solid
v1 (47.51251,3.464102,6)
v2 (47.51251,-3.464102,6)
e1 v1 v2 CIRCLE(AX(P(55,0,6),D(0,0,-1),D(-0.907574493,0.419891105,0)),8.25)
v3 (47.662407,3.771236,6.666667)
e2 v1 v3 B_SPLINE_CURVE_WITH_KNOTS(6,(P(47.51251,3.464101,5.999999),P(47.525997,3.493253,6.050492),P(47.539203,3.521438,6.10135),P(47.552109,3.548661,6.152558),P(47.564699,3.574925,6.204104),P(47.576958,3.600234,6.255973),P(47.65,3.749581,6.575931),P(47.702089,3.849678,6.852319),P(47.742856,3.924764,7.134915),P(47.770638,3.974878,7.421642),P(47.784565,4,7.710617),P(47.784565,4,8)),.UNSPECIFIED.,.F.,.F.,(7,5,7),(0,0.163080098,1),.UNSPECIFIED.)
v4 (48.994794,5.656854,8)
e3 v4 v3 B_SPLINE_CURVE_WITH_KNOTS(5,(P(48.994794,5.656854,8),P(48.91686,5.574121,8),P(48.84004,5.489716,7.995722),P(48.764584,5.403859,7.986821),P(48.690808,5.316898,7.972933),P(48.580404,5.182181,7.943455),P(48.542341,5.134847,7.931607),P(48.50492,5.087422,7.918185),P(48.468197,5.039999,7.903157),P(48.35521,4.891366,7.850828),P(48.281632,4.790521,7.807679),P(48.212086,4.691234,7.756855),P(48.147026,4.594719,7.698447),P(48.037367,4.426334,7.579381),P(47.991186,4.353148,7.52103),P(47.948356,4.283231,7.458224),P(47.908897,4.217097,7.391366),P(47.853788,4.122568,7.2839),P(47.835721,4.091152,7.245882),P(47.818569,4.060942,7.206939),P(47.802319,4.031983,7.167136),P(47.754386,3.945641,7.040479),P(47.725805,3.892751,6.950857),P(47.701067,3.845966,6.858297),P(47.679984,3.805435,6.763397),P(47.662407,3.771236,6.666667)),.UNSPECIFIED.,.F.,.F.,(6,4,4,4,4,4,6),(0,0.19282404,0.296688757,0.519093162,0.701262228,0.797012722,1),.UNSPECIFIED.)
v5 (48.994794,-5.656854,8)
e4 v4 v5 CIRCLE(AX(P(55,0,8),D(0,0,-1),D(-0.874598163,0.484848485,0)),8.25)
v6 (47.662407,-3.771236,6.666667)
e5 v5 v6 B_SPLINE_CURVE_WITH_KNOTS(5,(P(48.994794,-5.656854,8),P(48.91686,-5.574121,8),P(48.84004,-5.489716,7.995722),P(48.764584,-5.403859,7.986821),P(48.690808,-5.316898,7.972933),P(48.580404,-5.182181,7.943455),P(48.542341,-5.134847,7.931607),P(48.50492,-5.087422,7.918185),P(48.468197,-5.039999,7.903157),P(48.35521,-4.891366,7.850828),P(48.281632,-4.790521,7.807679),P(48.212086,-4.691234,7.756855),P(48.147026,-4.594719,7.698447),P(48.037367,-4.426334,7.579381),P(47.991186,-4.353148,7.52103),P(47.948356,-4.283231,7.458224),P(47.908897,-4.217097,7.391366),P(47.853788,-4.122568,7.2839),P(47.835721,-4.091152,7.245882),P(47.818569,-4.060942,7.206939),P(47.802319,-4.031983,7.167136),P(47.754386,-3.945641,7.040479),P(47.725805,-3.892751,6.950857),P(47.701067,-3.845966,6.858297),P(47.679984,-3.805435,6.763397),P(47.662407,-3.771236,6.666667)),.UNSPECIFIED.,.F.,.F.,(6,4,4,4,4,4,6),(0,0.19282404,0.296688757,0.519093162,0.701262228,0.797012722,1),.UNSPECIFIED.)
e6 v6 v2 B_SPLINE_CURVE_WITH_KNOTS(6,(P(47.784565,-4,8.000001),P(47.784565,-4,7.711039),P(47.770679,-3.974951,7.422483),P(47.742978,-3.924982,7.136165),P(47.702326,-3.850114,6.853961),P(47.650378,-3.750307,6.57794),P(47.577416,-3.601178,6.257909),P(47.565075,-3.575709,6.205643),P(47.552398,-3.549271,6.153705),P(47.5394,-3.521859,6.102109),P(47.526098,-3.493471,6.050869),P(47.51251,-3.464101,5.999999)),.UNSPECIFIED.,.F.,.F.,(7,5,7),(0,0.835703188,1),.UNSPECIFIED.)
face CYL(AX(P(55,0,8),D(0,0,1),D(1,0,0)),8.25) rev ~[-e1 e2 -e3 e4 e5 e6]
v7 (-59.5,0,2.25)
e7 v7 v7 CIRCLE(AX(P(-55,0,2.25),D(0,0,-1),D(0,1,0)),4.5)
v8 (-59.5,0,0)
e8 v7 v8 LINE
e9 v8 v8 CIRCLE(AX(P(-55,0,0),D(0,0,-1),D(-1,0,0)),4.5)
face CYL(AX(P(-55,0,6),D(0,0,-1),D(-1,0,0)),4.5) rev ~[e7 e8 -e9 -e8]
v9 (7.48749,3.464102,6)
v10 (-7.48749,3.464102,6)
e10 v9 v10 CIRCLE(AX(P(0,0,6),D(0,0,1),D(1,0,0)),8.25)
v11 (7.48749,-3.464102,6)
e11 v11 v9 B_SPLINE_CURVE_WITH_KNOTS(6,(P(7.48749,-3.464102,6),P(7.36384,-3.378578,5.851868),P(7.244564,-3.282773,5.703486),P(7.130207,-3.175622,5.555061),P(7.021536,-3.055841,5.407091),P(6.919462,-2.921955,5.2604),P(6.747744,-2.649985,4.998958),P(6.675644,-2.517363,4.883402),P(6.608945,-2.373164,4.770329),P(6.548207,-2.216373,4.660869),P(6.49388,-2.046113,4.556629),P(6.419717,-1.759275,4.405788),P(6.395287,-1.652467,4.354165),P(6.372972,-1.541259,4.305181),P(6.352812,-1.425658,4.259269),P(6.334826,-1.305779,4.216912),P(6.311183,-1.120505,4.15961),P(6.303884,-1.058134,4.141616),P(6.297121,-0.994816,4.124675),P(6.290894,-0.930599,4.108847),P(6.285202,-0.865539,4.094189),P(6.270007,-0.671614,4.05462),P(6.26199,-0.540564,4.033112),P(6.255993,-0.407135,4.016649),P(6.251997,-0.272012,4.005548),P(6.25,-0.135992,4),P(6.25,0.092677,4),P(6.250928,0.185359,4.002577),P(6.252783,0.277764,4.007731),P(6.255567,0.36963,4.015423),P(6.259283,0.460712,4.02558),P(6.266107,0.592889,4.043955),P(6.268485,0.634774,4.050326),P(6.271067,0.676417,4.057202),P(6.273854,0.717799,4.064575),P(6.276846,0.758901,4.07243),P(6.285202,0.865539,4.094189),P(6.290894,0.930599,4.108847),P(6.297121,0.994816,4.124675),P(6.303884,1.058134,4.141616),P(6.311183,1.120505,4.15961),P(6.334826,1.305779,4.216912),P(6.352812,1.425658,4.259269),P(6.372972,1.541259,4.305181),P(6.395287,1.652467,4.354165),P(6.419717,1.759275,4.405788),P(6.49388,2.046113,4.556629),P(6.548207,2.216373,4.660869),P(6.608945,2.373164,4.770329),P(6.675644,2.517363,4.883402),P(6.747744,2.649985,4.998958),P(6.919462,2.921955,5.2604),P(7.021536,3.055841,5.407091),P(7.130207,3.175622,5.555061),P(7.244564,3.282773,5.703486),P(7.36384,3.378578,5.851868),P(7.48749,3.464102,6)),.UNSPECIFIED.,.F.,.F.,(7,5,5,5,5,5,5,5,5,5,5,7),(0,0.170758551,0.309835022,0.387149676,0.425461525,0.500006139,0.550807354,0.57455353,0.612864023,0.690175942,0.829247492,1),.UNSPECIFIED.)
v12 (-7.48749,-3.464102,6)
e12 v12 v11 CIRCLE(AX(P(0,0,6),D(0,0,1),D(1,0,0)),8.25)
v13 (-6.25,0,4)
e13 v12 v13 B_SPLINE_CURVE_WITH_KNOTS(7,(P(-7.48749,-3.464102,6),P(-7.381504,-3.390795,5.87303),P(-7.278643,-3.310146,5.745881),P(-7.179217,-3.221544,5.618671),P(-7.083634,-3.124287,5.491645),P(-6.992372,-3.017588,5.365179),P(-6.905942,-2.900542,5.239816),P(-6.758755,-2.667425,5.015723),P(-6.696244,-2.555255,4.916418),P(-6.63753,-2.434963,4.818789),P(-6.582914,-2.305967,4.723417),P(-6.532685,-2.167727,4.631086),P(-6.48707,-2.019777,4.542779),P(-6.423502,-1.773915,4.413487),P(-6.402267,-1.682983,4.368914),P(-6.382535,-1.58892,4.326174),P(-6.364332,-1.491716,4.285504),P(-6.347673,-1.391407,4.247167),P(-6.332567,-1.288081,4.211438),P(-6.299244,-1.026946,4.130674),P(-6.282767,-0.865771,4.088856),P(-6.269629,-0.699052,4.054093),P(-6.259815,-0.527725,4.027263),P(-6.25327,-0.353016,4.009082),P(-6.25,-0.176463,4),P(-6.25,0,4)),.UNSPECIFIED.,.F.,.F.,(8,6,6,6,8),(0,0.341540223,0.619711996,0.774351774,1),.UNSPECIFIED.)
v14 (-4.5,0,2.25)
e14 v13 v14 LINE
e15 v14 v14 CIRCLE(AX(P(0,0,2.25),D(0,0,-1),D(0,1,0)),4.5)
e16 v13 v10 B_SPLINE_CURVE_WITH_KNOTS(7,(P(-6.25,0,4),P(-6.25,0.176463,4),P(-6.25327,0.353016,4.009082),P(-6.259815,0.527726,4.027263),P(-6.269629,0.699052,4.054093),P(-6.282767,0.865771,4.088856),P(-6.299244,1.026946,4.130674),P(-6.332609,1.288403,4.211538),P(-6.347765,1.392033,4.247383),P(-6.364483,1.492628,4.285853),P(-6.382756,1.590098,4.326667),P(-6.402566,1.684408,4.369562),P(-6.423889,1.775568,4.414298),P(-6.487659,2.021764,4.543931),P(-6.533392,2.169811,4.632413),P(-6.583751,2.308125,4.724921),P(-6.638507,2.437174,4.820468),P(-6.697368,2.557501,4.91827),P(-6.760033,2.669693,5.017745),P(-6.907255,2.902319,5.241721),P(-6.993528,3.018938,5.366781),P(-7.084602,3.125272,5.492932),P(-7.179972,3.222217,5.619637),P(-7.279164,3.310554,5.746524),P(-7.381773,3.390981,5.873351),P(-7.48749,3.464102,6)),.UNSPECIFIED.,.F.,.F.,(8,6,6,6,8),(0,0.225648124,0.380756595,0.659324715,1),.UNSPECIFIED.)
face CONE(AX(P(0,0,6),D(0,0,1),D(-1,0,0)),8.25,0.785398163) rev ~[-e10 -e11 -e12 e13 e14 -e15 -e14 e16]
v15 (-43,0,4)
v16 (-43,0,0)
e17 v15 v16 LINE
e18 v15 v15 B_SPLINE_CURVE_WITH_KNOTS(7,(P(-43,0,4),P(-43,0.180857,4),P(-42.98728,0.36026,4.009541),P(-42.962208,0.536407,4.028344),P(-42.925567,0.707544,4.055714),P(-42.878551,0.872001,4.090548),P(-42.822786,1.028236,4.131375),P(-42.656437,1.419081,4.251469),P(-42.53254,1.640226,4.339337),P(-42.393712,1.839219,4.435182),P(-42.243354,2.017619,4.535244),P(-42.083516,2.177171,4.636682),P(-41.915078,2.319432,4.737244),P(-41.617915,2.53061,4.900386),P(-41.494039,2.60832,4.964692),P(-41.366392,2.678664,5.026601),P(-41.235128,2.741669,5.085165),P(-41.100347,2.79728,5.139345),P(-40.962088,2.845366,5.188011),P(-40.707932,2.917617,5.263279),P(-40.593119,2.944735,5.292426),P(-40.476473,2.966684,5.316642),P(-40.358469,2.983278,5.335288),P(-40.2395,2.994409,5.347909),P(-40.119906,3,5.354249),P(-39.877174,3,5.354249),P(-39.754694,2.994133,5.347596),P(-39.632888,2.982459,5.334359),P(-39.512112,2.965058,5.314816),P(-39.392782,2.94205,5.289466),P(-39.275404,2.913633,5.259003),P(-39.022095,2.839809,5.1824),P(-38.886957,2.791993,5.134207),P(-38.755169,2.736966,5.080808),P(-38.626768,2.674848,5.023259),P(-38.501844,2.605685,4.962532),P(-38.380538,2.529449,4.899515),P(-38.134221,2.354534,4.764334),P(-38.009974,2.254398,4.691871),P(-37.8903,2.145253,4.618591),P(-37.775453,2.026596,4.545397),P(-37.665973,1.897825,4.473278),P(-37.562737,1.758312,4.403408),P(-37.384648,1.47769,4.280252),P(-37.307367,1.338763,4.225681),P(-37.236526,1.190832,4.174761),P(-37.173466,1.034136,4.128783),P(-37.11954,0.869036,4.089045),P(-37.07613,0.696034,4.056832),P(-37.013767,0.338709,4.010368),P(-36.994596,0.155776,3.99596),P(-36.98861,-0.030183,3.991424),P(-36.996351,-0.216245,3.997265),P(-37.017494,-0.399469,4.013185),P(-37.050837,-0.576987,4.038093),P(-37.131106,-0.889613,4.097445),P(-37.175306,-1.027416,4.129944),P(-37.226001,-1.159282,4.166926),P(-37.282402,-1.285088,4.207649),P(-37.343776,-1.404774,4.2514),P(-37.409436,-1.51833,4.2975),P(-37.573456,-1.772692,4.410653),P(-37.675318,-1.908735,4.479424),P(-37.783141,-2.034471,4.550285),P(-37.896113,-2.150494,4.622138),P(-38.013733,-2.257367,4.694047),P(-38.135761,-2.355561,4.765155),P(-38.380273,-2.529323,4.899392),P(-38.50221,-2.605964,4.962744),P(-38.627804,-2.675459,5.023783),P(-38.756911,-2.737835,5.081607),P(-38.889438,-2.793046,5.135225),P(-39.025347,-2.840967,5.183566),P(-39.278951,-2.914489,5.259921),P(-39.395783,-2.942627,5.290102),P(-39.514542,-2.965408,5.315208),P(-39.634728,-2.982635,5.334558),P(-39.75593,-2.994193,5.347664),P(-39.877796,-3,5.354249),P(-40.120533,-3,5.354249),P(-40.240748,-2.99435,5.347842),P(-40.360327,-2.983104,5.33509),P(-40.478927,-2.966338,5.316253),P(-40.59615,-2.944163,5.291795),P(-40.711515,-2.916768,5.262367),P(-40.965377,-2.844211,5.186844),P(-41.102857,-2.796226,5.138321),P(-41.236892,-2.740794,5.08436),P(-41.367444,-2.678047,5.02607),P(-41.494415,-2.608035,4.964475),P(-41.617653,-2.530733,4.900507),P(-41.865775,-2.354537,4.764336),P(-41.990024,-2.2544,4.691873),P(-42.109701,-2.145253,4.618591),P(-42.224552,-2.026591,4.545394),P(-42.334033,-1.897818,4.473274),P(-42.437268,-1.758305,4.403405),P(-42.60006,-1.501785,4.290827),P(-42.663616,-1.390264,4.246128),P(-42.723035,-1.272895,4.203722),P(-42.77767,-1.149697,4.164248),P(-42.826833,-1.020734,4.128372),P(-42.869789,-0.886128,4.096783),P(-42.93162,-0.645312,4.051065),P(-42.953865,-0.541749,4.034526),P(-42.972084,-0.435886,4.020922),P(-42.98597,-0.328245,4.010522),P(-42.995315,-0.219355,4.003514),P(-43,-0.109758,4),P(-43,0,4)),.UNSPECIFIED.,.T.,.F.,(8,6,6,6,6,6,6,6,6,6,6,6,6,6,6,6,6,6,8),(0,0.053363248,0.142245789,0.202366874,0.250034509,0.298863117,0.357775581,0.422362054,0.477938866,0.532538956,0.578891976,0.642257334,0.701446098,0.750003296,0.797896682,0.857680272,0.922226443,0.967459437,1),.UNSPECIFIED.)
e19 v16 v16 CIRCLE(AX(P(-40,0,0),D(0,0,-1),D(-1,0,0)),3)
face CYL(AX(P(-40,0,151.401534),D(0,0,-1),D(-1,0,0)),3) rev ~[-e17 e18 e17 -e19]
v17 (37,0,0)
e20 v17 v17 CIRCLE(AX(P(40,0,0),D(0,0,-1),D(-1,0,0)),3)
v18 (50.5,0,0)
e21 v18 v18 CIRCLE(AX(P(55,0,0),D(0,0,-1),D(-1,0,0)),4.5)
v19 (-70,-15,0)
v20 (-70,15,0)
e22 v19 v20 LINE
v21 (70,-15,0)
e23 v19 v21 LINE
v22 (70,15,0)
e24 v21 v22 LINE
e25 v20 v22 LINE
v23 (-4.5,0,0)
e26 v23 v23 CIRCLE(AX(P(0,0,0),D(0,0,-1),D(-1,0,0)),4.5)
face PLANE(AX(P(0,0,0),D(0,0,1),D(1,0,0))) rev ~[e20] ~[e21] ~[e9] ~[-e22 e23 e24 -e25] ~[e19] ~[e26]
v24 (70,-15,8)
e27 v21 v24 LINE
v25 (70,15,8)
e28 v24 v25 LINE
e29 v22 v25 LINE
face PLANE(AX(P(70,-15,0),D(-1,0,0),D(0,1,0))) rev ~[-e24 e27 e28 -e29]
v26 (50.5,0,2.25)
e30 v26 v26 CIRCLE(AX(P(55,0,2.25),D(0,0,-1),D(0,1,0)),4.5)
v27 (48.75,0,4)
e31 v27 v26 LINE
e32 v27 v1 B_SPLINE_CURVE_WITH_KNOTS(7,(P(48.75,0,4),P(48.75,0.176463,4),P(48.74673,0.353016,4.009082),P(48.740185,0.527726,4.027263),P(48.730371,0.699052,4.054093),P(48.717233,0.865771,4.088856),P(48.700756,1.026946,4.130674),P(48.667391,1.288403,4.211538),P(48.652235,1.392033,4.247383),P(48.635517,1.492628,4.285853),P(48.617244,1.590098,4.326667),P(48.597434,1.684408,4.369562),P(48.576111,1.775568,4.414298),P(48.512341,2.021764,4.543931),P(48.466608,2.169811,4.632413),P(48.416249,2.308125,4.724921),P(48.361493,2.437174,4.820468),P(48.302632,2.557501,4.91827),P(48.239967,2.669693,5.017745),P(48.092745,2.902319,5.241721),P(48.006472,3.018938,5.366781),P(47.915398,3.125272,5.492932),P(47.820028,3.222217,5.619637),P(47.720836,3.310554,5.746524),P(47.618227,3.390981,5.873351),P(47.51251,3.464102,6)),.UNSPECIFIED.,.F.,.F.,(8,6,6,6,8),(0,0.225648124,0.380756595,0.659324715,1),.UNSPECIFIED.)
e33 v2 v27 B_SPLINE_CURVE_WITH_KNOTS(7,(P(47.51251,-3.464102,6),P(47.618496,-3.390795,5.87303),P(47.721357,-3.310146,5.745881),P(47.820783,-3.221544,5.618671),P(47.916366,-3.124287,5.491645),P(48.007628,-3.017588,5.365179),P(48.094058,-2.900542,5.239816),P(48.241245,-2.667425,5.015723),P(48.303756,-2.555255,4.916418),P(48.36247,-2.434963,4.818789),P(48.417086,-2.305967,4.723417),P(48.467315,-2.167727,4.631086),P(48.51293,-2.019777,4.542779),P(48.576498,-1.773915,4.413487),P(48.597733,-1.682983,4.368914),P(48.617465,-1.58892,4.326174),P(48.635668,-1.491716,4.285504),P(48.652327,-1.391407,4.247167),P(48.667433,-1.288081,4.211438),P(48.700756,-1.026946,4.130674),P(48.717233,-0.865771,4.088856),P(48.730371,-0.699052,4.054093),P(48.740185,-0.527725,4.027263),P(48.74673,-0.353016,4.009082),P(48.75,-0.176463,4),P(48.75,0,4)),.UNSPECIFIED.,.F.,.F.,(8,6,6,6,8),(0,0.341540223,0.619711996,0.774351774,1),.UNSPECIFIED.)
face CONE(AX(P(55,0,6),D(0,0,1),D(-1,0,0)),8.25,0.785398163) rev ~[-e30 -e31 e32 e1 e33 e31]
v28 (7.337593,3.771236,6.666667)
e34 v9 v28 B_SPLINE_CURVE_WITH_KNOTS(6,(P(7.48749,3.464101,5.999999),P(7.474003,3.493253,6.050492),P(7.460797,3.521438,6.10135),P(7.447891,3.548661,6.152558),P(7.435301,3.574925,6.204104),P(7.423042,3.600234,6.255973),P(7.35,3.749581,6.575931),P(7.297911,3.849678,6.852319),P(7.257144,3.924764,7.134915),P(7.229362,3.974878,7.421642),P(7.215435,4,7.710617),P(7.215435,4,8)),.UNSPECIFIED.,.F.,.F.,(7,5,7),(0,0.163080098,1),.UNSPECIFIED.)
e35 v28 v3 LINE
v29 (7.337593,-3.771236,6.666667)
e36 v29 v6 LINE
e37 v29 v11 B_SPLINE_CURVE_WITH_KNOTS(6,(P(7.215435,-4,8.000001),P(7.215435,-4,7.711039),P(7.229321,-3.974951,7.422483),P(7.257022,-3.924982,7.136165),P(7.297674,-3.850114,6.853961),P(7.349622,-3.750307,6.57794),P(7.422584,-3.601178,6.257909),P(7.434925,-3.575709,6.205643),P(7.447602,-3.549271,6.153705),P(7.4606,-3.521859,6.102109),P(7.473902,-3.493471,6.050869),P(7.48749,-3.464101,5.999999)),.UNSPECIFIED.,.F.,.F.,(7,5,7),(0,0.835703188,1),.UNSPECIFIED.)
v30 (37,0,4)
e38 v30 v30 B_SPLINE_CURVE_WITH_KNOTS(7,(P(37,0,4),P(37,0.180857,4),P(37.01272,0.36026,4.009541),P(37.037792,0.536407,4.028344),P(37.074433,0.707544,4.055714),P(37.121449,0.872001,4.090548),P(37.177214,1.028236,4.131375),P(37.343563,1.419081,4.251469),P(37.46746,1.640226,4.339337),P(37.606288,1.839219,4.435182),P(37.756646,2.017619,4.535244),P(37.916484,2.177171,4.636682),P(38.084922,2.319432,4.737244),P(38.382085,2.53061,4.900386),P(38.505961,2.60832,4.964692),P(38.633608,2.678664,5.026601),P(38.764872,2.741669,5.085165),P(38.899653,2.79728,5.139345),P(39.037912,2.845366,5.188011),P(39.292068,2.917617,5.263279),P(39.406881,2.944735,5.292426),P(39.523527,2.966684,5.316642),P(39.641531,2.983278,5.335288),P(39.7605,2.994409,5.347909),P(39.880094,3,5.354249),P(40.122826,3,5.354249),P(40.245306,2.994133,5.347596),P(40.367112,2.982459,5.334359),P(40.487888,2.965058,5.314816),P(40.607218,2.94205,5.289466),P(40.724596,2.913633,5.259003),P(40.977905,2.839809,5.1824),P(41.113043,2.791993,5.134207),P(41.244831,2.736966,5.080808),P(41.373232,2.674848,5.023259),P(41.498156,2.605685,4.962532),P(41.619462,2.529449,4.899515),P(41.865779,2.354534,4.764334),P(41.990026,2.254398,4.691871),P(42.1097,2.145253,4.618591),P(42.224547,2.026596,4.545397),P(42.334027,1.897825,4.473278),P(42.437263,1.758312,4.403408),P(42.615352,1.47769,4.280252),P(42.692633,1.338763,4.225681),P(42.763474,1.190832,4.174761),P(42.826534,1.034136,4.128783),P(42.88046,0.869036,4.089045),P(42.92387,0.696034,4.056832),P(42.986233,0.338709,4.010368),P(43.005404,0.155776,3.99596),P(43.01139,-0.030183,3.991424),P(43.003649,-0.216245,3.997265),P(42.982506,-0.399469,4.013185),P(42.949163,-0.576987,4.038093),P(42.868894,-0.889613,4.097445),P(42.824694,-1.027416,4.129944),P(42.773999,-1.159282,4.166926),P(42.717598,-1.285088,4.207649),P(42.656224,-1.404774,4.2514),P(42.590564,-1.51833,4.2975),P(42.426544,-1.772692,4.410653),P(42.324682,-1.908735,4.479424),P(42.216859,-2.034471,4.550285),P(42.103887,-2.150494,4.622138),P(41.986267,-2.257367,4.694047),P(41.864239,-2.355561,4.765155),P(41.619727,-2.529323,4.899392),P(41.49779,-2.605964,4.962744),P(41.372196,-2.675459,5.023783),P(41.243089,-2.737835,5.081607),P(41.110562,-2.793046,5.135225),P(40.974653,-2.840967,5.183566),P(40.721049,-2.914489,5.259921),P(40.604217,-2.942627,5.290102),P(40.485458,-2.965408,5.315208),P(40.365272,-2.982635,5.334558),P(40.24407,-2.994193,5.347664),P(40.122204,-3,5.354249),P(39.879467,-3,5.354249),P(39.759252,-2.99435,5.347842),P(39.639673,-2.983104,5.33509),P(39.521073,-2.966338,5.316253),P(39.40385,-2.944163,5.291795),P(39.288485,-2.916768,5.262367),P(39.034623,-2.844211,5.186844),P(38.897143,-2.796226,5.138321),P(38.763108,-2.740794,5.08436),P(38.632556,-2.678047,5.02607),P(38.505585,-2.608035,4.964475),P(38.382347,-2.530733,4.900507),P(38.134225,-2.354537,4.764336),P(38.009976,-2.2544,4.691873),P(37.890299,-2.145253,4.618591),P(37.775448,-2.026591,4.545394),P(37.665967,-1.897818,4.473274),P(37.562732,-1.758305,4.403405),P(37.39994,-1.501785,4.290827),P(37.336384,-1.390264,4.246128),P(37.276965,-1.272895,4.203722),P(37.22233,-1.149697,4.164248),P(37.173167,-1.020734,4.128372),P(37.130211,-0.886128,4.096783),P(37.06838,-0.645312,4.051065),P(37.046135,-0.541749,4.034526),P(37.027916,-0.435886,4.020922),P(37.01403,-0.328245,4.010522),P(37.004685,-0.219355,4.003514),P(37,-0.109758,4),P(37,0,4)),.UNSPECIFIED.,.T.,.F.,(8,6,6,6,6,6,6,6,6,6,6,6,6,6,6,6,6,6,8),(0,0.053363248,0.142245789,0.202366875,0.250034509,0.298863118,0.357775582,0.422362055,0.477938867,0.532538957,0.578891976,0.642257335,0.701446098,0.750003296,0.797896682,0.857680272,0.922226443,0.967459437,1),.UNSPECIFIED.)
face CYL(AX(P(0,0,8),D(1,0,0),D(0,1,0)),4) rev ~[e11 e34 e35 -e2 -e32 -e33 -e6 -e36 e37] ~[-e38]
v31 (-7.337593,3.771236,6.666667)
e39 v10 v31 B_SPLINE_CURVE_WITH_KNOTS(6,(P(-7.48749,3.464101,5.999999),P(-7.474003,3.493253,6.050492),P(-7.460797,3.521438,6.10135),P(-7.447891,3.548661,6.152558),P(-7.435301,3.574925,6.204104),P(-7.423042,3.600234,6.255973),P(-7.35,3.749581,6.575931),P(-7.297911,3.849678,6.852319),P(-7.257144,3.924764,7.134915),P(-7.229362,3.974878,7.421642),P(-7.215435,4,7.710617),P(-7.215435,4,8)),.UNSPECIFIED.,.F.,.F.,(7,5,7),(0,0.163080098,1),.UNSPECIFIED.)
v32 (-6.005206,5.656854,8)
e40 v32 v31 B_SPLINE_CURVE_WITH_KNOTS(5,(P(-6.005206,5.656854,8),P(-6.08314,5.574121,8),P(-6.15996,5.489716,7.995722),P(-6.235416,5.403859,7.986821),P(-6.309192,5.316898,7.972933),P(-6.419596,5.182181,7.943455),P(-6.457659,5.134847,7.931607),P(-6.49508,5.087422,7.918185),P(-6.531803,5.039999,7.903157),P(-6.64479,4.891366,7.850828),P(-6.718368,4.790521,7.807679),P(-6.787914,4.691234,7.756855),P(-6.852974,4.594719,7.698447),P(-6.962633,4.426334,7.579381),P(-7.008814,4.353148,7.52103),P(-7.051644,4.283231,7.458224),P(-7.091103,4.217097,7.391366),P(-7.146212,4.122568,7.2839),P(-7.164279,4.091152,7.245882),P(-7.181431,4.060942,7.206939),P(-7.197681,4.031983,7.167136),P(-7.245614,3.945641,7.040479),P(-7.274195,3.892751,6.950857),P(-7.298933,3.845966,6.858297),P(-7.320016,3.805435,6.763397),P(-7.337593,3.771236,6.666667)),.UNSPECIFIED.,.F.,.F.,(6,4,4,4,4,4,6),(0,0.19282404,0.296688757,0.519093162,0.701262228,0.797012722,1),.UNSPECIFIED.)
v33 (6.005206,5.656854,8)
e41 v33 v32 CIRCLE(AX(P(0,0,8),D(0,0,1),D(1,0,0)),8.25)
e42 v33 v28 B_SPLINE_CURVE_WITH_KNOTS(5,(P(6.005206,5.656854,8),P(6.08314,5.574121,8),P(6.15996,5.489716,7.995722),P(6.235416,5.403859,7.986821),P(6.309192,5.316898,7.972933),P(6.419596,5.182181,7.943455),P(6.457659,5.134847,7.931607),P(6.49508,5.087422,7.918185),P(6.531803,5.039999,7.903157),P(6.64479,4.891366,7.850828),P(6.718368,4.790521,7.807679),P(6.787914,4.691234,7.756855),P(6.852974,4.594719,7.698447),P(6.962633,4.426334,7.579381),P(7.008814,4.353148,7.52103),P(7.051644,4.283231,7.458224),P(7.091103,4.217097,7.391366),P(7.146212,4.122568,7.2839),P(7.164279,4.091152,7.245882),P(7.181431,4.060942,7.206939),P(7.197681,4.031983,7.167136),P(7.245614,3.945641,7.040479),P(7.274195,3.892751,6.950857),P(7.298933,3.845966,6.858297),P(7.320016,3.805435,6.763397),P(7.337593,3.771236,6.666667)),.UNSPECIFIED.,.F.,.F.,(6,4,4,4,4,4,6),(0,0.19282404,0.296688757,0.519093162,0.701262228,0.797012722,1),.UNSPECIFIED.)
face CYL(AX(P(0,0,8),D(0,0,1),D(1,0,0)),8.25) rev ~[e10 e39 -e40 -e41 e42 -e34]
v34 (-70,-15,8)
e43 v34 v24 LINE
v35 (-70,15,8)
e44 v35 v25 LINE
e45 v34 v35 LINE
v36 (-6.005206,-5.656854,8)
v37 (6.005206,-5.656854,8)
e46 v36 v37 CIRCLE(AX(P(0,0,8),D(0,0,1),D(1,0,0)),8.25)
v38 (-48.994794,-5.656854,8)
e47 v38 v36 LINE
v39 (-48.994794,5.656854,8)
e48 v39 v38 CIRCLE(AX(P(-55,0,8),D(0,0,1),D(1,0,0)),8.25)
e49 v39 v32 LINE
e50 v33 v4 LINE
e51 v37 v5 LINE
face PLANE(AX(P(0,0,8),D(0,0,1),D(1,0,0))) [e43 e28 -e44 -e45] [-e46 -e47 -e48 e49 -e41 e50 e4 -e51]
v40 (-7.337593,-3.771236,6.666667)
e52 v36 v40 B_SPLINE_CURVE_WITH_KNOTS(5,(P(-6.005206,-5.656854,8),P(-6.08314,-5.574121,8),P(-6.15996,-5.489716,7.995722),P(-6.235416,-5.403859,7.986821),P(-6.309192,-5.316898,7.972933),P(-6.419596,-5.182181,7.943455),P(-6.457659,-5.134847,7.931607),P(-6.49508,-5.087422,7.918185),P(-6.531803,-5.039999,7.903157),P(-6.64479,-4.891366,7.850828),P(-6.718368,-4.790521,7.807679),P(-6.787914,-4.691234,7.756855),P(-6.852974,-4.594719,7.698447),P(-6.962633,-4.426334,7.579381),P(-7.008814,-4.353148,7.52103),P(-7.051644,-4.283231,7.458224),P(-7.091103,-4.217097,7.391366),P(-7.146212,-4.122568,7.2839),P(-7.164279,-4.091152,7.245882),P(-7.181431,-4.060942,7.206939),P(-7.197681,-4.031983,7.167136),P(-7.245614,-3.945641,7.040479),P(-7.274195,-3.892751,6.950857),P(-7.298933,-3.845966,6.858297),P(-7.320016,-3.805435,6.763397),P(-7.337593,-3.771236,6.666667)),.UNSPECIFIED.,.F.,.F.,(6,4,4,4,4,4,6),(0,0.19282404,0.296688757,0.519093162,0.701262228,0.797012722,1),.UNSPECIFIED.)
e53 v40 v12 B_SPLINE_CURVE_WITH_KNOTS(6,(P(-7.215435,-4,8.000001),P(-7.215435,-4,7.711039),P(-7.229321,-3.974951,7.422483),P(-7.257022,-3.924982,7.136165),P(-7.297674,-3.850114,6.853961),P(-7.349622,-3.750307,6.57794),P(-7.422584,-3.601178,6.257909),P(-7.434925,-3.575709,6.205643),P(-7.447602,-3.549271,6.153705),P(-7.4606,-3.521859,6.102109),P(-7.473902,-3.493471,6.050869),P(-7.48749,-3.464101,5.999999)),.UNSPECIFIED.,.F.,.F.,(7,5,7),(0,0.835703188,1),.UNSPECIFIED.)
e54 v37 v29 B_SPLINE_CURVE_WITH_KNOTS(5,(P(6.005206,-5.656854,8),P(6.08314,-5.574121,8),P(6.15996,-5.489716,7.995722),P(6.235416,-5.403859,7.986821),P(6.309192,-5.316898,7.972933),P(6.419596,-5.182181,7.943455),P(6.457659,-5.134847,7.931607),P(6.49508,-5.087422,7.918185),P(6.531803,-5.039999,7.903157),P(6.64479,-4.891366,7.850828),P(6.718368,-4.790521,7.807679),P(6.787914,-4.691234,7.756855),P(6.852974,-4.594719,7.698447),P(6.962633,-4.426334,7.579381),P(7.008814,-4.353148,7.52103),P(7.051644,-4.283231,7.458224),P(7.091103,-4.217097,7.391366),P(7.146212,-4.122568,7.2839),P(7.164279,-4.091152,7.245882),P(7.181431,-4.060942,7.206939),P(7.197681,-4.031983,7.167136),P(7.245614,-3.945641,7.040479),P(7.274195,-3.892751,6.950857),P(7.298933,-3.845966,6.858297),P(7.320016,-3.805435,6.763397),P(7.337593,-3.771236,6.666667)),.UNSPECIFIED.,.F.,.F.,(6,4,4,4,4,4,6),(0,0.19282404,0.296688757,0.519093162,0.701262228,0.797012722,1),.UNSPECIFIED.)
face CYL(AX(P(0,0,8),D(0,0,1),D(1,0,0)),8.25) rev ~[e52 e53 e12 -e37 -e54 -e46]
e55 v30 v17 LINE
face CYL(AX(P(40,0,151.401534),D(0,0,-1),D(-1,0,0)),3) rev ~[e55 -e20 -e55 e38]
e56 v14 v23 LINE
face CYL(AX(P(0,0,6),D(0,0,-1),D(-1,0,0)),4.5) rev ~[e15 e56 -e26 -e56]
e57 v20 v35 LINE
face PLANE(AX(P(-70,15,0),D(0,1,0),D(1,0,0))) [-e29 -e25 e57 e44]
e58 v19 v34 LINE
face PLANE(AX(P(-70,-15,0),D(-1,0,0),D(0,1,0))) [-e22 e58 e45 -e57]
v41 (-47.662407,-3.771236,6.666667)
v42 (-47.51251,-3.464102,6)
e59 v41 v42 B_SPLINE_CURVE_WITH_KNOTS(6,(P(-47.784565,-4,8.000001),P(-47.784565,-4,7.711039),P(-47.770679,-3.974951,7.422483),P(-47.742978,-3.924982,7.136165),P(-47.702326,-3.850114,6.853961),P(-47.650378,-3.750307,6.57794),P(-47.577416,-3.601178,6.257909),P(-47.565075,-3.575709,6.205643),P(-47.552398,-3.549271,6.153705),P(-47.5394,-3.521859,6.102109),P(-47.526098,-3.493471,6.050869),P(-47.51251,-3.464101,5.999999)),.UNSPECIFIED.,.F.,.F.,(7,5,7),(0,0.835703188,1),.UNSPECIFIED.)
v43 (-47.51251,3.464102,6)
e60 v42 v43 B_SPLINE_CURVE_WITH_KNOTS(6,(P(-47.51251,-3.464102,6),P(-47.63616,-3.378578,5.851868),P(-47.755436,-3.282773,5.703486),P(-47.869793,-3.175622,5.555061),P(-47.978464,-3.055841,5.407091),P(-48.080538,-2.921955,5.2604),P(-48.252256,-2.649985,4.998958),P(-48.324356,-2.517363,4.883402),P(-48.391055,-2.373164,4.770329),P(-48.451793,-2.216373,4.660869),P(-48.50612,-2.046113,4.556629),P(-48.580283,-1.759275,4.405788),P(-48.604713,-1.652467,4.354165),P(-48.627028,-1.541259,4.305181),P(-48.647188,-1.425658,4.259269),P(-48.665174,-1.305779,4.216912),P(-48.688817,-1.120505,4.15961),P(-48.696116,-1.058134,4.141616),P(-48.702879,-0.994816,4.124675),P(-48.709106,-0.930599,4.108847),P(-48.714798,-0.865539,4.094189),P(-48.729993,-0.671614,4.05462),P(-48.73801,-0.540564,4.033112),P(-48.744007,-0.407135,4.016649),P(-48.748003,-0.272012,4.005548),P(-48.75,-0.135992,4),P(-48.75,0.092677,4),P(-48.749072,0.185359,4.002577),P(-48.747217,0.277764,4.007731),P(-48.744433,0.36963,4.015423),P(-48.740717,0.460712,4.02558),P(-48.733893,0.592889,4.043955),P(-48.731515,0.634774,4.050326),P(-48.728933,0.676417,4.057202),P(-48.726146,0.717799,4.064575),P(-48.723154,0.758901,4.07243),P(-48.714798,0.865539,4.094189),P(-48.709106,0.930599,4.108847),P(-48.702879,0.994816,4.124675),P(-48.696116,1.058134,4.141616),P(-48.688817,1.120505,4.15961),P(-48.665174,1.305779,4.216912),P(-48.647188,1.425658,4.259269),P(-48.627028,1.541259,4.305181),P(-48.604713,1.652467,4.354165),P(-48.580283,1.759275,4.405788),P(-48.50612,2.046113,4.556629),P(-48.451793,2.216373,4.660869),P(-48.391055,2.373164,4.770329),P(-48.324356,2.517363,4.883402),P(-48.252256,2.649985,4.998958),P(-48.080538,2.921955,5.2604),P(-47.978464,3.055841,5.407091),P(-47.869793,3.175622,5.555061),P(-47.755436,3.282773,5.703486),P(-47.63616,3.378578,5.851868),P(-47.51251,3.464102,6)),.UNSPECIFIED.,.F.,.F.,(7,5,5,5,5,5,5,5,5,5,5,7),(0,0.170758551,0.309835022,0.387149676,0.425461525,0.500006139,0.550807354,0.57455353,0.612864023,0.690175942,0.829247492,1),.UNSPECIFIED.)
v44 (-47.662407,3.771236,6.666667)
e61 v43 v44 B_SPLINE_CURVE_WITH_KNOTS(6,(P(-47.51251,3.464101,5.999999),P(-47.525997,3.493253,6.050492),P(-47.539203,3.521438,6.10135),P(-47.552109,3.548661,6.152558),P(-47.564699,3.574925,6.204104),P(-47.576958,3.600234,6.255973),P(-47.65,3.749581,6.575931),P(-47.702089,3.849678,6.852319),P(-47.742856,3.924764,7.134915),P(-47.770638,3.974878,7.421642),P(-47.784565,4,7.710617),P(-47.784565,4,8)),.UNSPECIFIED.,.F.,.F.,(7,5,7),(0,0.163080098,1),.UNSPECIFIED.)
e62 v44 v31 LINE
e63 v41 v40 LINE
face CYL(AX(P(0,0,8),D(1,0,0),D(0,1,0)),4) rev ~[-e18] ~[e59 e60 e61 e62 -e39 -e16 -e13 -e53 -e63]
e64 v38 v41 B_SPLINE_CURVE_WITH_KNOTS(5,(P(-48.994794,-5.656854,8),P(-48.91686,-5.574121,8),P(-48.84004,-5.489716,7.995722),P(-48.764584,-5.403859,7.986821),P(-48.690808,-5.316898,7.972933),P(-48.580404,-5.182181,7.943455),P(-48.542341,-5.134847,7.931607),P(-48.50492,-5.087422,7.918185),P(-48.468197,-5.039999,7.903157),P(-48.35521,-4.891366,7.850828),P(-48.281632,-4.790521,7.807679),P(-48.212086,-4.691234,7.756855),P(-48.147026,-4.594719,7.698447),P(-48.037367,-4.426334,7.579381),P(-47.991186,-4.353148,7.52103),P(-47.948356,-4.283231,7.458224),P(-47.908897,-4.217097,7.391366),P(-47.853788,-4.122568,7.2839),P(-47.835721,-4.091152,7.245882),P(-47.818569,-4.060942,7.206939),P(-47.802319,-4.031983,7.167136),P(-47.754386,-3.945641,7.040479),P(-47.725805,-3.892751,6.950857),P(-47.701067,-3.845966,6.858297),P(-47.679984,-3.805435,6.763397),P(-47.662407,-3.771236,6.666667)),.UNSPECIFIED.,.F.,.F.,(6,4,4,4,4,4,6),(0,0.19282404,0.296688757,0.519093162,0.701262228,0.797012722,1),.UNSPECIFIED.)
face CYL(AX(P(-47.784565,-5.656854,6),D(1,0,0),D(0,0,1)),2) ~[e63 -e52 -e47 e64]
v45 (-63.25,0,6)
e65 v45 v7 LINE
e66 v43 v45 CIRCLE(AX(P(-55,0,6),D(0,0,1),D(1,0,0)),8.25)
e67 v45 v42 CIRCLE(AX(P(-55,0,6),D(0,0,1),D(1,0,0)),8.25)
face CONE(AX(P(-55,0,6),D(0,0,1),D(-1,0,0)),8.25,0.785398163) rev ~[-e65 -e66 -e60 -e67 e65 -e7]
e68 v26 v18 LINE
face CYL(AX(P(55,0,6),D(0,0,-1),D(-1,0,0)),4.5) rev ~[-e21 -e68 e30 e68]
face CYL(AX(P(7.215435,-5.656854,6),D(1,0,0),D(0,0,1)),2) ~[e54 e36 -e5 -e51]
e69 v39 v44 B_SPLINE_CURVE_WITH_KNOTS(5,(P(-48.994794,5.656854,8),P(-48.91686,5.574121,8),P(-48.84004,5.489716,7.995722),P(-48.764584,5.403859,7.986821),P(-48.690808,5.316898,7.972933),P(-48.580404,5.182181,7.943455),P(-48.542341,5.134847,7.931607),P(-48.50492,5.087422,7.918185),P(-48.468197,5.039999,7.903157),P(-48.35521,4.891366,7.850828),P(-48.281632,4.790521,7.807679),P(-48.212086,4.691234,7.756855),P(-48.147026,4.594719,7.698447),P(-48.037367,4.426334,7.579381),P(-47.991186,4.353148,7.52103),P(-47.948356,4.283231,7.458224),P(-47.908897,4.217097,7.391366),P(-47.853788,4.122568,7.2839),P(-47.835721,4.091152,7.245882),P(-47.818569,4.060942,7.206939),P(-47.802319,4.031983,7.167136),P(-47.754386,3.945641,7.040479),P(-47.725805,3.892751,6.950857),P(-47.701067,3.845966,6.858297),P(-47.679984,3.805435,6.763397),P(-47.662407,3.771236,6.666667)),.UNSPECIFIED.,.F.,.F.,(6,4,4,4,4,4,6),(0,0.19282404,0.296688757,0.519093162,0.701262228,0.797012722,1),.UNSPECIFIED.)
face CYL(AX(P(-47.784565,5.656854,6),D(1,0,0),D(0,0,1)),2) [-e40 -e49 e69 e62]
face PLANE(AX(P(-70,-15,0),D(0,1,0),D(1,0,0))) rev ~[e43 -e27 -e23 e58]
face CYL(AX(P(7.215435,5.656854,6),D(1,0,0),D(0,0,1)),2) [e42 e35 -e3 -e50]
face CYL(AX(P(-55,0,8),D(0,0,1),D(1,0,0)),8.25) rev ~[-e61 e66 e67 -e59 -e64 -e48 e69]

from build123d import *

# Parameters (mm, degrees)
F0_W           = 140
F0_H           = 30
F1_DEPTH       = 8
F2_R           = 8.25
F3_DEPTH       = 2
F5_D           = 9
F5_CSINK_D     = 16.5
F5_CSINK_ANGLE = 90
F6_R           = 4
F7_DEPTH       = 55
F8_R           = 2
F10_D          = 6


with BuildPart() as f1:
    # F0 (on Top) → F1 (new body)
    with BuildSketch(Plane.XY):
        Rectangle(F0_W, F0_H)
    extrude(amount=F1_DEPTH)

    # F2 (on face) → F3 (cut)
    with BuildSketch(Plane.XY.offset(8)):
        with Locations((-55, 0)):
            Circle(F2_R)
        Circle(F2_R)
        with Locations((55, 0)):
            Circle(F2_R)
    extrude(amount=-F3_DEPTH, mode=Mode.SUBTRACT)

    # F5 (through all)
    with Locations(Plane.XY.offset(6)):
        with Locations((-55, 0), (0, 0), (55, 0)):
            CounterSinkHole(F5_D / 2, F5_CSINK_D / 2, counter_sink_angle=F5_CSINK_ANGLE)

    # F6 (on Right) → F7 (cut, symmetric)
    with BuildSketch(Plane.YZ):
        with Locations((0, 8)):
            Circle(F6_R)
    extrude(amount=F7_DEPTH, both=True, mode=Mode.SUBTRACT)

    # F8
    f8_edges = [f1.edges().sort_by_distance(p)[0] for p in [
        (-27.5, 4, 8),
        (27.5, 4, 8),
        (27.5, -4, 8),
        (-27.5, -4, 8),
    ]]
    fillet(f8_edges, radius=F8_R)

    # F10 (through all)
    with Locations(Plane.XY.offset(8)):
        with Locations((-40, 0), (40, 0)):
            Hole(F10_D / 2)


solid = f1.part
